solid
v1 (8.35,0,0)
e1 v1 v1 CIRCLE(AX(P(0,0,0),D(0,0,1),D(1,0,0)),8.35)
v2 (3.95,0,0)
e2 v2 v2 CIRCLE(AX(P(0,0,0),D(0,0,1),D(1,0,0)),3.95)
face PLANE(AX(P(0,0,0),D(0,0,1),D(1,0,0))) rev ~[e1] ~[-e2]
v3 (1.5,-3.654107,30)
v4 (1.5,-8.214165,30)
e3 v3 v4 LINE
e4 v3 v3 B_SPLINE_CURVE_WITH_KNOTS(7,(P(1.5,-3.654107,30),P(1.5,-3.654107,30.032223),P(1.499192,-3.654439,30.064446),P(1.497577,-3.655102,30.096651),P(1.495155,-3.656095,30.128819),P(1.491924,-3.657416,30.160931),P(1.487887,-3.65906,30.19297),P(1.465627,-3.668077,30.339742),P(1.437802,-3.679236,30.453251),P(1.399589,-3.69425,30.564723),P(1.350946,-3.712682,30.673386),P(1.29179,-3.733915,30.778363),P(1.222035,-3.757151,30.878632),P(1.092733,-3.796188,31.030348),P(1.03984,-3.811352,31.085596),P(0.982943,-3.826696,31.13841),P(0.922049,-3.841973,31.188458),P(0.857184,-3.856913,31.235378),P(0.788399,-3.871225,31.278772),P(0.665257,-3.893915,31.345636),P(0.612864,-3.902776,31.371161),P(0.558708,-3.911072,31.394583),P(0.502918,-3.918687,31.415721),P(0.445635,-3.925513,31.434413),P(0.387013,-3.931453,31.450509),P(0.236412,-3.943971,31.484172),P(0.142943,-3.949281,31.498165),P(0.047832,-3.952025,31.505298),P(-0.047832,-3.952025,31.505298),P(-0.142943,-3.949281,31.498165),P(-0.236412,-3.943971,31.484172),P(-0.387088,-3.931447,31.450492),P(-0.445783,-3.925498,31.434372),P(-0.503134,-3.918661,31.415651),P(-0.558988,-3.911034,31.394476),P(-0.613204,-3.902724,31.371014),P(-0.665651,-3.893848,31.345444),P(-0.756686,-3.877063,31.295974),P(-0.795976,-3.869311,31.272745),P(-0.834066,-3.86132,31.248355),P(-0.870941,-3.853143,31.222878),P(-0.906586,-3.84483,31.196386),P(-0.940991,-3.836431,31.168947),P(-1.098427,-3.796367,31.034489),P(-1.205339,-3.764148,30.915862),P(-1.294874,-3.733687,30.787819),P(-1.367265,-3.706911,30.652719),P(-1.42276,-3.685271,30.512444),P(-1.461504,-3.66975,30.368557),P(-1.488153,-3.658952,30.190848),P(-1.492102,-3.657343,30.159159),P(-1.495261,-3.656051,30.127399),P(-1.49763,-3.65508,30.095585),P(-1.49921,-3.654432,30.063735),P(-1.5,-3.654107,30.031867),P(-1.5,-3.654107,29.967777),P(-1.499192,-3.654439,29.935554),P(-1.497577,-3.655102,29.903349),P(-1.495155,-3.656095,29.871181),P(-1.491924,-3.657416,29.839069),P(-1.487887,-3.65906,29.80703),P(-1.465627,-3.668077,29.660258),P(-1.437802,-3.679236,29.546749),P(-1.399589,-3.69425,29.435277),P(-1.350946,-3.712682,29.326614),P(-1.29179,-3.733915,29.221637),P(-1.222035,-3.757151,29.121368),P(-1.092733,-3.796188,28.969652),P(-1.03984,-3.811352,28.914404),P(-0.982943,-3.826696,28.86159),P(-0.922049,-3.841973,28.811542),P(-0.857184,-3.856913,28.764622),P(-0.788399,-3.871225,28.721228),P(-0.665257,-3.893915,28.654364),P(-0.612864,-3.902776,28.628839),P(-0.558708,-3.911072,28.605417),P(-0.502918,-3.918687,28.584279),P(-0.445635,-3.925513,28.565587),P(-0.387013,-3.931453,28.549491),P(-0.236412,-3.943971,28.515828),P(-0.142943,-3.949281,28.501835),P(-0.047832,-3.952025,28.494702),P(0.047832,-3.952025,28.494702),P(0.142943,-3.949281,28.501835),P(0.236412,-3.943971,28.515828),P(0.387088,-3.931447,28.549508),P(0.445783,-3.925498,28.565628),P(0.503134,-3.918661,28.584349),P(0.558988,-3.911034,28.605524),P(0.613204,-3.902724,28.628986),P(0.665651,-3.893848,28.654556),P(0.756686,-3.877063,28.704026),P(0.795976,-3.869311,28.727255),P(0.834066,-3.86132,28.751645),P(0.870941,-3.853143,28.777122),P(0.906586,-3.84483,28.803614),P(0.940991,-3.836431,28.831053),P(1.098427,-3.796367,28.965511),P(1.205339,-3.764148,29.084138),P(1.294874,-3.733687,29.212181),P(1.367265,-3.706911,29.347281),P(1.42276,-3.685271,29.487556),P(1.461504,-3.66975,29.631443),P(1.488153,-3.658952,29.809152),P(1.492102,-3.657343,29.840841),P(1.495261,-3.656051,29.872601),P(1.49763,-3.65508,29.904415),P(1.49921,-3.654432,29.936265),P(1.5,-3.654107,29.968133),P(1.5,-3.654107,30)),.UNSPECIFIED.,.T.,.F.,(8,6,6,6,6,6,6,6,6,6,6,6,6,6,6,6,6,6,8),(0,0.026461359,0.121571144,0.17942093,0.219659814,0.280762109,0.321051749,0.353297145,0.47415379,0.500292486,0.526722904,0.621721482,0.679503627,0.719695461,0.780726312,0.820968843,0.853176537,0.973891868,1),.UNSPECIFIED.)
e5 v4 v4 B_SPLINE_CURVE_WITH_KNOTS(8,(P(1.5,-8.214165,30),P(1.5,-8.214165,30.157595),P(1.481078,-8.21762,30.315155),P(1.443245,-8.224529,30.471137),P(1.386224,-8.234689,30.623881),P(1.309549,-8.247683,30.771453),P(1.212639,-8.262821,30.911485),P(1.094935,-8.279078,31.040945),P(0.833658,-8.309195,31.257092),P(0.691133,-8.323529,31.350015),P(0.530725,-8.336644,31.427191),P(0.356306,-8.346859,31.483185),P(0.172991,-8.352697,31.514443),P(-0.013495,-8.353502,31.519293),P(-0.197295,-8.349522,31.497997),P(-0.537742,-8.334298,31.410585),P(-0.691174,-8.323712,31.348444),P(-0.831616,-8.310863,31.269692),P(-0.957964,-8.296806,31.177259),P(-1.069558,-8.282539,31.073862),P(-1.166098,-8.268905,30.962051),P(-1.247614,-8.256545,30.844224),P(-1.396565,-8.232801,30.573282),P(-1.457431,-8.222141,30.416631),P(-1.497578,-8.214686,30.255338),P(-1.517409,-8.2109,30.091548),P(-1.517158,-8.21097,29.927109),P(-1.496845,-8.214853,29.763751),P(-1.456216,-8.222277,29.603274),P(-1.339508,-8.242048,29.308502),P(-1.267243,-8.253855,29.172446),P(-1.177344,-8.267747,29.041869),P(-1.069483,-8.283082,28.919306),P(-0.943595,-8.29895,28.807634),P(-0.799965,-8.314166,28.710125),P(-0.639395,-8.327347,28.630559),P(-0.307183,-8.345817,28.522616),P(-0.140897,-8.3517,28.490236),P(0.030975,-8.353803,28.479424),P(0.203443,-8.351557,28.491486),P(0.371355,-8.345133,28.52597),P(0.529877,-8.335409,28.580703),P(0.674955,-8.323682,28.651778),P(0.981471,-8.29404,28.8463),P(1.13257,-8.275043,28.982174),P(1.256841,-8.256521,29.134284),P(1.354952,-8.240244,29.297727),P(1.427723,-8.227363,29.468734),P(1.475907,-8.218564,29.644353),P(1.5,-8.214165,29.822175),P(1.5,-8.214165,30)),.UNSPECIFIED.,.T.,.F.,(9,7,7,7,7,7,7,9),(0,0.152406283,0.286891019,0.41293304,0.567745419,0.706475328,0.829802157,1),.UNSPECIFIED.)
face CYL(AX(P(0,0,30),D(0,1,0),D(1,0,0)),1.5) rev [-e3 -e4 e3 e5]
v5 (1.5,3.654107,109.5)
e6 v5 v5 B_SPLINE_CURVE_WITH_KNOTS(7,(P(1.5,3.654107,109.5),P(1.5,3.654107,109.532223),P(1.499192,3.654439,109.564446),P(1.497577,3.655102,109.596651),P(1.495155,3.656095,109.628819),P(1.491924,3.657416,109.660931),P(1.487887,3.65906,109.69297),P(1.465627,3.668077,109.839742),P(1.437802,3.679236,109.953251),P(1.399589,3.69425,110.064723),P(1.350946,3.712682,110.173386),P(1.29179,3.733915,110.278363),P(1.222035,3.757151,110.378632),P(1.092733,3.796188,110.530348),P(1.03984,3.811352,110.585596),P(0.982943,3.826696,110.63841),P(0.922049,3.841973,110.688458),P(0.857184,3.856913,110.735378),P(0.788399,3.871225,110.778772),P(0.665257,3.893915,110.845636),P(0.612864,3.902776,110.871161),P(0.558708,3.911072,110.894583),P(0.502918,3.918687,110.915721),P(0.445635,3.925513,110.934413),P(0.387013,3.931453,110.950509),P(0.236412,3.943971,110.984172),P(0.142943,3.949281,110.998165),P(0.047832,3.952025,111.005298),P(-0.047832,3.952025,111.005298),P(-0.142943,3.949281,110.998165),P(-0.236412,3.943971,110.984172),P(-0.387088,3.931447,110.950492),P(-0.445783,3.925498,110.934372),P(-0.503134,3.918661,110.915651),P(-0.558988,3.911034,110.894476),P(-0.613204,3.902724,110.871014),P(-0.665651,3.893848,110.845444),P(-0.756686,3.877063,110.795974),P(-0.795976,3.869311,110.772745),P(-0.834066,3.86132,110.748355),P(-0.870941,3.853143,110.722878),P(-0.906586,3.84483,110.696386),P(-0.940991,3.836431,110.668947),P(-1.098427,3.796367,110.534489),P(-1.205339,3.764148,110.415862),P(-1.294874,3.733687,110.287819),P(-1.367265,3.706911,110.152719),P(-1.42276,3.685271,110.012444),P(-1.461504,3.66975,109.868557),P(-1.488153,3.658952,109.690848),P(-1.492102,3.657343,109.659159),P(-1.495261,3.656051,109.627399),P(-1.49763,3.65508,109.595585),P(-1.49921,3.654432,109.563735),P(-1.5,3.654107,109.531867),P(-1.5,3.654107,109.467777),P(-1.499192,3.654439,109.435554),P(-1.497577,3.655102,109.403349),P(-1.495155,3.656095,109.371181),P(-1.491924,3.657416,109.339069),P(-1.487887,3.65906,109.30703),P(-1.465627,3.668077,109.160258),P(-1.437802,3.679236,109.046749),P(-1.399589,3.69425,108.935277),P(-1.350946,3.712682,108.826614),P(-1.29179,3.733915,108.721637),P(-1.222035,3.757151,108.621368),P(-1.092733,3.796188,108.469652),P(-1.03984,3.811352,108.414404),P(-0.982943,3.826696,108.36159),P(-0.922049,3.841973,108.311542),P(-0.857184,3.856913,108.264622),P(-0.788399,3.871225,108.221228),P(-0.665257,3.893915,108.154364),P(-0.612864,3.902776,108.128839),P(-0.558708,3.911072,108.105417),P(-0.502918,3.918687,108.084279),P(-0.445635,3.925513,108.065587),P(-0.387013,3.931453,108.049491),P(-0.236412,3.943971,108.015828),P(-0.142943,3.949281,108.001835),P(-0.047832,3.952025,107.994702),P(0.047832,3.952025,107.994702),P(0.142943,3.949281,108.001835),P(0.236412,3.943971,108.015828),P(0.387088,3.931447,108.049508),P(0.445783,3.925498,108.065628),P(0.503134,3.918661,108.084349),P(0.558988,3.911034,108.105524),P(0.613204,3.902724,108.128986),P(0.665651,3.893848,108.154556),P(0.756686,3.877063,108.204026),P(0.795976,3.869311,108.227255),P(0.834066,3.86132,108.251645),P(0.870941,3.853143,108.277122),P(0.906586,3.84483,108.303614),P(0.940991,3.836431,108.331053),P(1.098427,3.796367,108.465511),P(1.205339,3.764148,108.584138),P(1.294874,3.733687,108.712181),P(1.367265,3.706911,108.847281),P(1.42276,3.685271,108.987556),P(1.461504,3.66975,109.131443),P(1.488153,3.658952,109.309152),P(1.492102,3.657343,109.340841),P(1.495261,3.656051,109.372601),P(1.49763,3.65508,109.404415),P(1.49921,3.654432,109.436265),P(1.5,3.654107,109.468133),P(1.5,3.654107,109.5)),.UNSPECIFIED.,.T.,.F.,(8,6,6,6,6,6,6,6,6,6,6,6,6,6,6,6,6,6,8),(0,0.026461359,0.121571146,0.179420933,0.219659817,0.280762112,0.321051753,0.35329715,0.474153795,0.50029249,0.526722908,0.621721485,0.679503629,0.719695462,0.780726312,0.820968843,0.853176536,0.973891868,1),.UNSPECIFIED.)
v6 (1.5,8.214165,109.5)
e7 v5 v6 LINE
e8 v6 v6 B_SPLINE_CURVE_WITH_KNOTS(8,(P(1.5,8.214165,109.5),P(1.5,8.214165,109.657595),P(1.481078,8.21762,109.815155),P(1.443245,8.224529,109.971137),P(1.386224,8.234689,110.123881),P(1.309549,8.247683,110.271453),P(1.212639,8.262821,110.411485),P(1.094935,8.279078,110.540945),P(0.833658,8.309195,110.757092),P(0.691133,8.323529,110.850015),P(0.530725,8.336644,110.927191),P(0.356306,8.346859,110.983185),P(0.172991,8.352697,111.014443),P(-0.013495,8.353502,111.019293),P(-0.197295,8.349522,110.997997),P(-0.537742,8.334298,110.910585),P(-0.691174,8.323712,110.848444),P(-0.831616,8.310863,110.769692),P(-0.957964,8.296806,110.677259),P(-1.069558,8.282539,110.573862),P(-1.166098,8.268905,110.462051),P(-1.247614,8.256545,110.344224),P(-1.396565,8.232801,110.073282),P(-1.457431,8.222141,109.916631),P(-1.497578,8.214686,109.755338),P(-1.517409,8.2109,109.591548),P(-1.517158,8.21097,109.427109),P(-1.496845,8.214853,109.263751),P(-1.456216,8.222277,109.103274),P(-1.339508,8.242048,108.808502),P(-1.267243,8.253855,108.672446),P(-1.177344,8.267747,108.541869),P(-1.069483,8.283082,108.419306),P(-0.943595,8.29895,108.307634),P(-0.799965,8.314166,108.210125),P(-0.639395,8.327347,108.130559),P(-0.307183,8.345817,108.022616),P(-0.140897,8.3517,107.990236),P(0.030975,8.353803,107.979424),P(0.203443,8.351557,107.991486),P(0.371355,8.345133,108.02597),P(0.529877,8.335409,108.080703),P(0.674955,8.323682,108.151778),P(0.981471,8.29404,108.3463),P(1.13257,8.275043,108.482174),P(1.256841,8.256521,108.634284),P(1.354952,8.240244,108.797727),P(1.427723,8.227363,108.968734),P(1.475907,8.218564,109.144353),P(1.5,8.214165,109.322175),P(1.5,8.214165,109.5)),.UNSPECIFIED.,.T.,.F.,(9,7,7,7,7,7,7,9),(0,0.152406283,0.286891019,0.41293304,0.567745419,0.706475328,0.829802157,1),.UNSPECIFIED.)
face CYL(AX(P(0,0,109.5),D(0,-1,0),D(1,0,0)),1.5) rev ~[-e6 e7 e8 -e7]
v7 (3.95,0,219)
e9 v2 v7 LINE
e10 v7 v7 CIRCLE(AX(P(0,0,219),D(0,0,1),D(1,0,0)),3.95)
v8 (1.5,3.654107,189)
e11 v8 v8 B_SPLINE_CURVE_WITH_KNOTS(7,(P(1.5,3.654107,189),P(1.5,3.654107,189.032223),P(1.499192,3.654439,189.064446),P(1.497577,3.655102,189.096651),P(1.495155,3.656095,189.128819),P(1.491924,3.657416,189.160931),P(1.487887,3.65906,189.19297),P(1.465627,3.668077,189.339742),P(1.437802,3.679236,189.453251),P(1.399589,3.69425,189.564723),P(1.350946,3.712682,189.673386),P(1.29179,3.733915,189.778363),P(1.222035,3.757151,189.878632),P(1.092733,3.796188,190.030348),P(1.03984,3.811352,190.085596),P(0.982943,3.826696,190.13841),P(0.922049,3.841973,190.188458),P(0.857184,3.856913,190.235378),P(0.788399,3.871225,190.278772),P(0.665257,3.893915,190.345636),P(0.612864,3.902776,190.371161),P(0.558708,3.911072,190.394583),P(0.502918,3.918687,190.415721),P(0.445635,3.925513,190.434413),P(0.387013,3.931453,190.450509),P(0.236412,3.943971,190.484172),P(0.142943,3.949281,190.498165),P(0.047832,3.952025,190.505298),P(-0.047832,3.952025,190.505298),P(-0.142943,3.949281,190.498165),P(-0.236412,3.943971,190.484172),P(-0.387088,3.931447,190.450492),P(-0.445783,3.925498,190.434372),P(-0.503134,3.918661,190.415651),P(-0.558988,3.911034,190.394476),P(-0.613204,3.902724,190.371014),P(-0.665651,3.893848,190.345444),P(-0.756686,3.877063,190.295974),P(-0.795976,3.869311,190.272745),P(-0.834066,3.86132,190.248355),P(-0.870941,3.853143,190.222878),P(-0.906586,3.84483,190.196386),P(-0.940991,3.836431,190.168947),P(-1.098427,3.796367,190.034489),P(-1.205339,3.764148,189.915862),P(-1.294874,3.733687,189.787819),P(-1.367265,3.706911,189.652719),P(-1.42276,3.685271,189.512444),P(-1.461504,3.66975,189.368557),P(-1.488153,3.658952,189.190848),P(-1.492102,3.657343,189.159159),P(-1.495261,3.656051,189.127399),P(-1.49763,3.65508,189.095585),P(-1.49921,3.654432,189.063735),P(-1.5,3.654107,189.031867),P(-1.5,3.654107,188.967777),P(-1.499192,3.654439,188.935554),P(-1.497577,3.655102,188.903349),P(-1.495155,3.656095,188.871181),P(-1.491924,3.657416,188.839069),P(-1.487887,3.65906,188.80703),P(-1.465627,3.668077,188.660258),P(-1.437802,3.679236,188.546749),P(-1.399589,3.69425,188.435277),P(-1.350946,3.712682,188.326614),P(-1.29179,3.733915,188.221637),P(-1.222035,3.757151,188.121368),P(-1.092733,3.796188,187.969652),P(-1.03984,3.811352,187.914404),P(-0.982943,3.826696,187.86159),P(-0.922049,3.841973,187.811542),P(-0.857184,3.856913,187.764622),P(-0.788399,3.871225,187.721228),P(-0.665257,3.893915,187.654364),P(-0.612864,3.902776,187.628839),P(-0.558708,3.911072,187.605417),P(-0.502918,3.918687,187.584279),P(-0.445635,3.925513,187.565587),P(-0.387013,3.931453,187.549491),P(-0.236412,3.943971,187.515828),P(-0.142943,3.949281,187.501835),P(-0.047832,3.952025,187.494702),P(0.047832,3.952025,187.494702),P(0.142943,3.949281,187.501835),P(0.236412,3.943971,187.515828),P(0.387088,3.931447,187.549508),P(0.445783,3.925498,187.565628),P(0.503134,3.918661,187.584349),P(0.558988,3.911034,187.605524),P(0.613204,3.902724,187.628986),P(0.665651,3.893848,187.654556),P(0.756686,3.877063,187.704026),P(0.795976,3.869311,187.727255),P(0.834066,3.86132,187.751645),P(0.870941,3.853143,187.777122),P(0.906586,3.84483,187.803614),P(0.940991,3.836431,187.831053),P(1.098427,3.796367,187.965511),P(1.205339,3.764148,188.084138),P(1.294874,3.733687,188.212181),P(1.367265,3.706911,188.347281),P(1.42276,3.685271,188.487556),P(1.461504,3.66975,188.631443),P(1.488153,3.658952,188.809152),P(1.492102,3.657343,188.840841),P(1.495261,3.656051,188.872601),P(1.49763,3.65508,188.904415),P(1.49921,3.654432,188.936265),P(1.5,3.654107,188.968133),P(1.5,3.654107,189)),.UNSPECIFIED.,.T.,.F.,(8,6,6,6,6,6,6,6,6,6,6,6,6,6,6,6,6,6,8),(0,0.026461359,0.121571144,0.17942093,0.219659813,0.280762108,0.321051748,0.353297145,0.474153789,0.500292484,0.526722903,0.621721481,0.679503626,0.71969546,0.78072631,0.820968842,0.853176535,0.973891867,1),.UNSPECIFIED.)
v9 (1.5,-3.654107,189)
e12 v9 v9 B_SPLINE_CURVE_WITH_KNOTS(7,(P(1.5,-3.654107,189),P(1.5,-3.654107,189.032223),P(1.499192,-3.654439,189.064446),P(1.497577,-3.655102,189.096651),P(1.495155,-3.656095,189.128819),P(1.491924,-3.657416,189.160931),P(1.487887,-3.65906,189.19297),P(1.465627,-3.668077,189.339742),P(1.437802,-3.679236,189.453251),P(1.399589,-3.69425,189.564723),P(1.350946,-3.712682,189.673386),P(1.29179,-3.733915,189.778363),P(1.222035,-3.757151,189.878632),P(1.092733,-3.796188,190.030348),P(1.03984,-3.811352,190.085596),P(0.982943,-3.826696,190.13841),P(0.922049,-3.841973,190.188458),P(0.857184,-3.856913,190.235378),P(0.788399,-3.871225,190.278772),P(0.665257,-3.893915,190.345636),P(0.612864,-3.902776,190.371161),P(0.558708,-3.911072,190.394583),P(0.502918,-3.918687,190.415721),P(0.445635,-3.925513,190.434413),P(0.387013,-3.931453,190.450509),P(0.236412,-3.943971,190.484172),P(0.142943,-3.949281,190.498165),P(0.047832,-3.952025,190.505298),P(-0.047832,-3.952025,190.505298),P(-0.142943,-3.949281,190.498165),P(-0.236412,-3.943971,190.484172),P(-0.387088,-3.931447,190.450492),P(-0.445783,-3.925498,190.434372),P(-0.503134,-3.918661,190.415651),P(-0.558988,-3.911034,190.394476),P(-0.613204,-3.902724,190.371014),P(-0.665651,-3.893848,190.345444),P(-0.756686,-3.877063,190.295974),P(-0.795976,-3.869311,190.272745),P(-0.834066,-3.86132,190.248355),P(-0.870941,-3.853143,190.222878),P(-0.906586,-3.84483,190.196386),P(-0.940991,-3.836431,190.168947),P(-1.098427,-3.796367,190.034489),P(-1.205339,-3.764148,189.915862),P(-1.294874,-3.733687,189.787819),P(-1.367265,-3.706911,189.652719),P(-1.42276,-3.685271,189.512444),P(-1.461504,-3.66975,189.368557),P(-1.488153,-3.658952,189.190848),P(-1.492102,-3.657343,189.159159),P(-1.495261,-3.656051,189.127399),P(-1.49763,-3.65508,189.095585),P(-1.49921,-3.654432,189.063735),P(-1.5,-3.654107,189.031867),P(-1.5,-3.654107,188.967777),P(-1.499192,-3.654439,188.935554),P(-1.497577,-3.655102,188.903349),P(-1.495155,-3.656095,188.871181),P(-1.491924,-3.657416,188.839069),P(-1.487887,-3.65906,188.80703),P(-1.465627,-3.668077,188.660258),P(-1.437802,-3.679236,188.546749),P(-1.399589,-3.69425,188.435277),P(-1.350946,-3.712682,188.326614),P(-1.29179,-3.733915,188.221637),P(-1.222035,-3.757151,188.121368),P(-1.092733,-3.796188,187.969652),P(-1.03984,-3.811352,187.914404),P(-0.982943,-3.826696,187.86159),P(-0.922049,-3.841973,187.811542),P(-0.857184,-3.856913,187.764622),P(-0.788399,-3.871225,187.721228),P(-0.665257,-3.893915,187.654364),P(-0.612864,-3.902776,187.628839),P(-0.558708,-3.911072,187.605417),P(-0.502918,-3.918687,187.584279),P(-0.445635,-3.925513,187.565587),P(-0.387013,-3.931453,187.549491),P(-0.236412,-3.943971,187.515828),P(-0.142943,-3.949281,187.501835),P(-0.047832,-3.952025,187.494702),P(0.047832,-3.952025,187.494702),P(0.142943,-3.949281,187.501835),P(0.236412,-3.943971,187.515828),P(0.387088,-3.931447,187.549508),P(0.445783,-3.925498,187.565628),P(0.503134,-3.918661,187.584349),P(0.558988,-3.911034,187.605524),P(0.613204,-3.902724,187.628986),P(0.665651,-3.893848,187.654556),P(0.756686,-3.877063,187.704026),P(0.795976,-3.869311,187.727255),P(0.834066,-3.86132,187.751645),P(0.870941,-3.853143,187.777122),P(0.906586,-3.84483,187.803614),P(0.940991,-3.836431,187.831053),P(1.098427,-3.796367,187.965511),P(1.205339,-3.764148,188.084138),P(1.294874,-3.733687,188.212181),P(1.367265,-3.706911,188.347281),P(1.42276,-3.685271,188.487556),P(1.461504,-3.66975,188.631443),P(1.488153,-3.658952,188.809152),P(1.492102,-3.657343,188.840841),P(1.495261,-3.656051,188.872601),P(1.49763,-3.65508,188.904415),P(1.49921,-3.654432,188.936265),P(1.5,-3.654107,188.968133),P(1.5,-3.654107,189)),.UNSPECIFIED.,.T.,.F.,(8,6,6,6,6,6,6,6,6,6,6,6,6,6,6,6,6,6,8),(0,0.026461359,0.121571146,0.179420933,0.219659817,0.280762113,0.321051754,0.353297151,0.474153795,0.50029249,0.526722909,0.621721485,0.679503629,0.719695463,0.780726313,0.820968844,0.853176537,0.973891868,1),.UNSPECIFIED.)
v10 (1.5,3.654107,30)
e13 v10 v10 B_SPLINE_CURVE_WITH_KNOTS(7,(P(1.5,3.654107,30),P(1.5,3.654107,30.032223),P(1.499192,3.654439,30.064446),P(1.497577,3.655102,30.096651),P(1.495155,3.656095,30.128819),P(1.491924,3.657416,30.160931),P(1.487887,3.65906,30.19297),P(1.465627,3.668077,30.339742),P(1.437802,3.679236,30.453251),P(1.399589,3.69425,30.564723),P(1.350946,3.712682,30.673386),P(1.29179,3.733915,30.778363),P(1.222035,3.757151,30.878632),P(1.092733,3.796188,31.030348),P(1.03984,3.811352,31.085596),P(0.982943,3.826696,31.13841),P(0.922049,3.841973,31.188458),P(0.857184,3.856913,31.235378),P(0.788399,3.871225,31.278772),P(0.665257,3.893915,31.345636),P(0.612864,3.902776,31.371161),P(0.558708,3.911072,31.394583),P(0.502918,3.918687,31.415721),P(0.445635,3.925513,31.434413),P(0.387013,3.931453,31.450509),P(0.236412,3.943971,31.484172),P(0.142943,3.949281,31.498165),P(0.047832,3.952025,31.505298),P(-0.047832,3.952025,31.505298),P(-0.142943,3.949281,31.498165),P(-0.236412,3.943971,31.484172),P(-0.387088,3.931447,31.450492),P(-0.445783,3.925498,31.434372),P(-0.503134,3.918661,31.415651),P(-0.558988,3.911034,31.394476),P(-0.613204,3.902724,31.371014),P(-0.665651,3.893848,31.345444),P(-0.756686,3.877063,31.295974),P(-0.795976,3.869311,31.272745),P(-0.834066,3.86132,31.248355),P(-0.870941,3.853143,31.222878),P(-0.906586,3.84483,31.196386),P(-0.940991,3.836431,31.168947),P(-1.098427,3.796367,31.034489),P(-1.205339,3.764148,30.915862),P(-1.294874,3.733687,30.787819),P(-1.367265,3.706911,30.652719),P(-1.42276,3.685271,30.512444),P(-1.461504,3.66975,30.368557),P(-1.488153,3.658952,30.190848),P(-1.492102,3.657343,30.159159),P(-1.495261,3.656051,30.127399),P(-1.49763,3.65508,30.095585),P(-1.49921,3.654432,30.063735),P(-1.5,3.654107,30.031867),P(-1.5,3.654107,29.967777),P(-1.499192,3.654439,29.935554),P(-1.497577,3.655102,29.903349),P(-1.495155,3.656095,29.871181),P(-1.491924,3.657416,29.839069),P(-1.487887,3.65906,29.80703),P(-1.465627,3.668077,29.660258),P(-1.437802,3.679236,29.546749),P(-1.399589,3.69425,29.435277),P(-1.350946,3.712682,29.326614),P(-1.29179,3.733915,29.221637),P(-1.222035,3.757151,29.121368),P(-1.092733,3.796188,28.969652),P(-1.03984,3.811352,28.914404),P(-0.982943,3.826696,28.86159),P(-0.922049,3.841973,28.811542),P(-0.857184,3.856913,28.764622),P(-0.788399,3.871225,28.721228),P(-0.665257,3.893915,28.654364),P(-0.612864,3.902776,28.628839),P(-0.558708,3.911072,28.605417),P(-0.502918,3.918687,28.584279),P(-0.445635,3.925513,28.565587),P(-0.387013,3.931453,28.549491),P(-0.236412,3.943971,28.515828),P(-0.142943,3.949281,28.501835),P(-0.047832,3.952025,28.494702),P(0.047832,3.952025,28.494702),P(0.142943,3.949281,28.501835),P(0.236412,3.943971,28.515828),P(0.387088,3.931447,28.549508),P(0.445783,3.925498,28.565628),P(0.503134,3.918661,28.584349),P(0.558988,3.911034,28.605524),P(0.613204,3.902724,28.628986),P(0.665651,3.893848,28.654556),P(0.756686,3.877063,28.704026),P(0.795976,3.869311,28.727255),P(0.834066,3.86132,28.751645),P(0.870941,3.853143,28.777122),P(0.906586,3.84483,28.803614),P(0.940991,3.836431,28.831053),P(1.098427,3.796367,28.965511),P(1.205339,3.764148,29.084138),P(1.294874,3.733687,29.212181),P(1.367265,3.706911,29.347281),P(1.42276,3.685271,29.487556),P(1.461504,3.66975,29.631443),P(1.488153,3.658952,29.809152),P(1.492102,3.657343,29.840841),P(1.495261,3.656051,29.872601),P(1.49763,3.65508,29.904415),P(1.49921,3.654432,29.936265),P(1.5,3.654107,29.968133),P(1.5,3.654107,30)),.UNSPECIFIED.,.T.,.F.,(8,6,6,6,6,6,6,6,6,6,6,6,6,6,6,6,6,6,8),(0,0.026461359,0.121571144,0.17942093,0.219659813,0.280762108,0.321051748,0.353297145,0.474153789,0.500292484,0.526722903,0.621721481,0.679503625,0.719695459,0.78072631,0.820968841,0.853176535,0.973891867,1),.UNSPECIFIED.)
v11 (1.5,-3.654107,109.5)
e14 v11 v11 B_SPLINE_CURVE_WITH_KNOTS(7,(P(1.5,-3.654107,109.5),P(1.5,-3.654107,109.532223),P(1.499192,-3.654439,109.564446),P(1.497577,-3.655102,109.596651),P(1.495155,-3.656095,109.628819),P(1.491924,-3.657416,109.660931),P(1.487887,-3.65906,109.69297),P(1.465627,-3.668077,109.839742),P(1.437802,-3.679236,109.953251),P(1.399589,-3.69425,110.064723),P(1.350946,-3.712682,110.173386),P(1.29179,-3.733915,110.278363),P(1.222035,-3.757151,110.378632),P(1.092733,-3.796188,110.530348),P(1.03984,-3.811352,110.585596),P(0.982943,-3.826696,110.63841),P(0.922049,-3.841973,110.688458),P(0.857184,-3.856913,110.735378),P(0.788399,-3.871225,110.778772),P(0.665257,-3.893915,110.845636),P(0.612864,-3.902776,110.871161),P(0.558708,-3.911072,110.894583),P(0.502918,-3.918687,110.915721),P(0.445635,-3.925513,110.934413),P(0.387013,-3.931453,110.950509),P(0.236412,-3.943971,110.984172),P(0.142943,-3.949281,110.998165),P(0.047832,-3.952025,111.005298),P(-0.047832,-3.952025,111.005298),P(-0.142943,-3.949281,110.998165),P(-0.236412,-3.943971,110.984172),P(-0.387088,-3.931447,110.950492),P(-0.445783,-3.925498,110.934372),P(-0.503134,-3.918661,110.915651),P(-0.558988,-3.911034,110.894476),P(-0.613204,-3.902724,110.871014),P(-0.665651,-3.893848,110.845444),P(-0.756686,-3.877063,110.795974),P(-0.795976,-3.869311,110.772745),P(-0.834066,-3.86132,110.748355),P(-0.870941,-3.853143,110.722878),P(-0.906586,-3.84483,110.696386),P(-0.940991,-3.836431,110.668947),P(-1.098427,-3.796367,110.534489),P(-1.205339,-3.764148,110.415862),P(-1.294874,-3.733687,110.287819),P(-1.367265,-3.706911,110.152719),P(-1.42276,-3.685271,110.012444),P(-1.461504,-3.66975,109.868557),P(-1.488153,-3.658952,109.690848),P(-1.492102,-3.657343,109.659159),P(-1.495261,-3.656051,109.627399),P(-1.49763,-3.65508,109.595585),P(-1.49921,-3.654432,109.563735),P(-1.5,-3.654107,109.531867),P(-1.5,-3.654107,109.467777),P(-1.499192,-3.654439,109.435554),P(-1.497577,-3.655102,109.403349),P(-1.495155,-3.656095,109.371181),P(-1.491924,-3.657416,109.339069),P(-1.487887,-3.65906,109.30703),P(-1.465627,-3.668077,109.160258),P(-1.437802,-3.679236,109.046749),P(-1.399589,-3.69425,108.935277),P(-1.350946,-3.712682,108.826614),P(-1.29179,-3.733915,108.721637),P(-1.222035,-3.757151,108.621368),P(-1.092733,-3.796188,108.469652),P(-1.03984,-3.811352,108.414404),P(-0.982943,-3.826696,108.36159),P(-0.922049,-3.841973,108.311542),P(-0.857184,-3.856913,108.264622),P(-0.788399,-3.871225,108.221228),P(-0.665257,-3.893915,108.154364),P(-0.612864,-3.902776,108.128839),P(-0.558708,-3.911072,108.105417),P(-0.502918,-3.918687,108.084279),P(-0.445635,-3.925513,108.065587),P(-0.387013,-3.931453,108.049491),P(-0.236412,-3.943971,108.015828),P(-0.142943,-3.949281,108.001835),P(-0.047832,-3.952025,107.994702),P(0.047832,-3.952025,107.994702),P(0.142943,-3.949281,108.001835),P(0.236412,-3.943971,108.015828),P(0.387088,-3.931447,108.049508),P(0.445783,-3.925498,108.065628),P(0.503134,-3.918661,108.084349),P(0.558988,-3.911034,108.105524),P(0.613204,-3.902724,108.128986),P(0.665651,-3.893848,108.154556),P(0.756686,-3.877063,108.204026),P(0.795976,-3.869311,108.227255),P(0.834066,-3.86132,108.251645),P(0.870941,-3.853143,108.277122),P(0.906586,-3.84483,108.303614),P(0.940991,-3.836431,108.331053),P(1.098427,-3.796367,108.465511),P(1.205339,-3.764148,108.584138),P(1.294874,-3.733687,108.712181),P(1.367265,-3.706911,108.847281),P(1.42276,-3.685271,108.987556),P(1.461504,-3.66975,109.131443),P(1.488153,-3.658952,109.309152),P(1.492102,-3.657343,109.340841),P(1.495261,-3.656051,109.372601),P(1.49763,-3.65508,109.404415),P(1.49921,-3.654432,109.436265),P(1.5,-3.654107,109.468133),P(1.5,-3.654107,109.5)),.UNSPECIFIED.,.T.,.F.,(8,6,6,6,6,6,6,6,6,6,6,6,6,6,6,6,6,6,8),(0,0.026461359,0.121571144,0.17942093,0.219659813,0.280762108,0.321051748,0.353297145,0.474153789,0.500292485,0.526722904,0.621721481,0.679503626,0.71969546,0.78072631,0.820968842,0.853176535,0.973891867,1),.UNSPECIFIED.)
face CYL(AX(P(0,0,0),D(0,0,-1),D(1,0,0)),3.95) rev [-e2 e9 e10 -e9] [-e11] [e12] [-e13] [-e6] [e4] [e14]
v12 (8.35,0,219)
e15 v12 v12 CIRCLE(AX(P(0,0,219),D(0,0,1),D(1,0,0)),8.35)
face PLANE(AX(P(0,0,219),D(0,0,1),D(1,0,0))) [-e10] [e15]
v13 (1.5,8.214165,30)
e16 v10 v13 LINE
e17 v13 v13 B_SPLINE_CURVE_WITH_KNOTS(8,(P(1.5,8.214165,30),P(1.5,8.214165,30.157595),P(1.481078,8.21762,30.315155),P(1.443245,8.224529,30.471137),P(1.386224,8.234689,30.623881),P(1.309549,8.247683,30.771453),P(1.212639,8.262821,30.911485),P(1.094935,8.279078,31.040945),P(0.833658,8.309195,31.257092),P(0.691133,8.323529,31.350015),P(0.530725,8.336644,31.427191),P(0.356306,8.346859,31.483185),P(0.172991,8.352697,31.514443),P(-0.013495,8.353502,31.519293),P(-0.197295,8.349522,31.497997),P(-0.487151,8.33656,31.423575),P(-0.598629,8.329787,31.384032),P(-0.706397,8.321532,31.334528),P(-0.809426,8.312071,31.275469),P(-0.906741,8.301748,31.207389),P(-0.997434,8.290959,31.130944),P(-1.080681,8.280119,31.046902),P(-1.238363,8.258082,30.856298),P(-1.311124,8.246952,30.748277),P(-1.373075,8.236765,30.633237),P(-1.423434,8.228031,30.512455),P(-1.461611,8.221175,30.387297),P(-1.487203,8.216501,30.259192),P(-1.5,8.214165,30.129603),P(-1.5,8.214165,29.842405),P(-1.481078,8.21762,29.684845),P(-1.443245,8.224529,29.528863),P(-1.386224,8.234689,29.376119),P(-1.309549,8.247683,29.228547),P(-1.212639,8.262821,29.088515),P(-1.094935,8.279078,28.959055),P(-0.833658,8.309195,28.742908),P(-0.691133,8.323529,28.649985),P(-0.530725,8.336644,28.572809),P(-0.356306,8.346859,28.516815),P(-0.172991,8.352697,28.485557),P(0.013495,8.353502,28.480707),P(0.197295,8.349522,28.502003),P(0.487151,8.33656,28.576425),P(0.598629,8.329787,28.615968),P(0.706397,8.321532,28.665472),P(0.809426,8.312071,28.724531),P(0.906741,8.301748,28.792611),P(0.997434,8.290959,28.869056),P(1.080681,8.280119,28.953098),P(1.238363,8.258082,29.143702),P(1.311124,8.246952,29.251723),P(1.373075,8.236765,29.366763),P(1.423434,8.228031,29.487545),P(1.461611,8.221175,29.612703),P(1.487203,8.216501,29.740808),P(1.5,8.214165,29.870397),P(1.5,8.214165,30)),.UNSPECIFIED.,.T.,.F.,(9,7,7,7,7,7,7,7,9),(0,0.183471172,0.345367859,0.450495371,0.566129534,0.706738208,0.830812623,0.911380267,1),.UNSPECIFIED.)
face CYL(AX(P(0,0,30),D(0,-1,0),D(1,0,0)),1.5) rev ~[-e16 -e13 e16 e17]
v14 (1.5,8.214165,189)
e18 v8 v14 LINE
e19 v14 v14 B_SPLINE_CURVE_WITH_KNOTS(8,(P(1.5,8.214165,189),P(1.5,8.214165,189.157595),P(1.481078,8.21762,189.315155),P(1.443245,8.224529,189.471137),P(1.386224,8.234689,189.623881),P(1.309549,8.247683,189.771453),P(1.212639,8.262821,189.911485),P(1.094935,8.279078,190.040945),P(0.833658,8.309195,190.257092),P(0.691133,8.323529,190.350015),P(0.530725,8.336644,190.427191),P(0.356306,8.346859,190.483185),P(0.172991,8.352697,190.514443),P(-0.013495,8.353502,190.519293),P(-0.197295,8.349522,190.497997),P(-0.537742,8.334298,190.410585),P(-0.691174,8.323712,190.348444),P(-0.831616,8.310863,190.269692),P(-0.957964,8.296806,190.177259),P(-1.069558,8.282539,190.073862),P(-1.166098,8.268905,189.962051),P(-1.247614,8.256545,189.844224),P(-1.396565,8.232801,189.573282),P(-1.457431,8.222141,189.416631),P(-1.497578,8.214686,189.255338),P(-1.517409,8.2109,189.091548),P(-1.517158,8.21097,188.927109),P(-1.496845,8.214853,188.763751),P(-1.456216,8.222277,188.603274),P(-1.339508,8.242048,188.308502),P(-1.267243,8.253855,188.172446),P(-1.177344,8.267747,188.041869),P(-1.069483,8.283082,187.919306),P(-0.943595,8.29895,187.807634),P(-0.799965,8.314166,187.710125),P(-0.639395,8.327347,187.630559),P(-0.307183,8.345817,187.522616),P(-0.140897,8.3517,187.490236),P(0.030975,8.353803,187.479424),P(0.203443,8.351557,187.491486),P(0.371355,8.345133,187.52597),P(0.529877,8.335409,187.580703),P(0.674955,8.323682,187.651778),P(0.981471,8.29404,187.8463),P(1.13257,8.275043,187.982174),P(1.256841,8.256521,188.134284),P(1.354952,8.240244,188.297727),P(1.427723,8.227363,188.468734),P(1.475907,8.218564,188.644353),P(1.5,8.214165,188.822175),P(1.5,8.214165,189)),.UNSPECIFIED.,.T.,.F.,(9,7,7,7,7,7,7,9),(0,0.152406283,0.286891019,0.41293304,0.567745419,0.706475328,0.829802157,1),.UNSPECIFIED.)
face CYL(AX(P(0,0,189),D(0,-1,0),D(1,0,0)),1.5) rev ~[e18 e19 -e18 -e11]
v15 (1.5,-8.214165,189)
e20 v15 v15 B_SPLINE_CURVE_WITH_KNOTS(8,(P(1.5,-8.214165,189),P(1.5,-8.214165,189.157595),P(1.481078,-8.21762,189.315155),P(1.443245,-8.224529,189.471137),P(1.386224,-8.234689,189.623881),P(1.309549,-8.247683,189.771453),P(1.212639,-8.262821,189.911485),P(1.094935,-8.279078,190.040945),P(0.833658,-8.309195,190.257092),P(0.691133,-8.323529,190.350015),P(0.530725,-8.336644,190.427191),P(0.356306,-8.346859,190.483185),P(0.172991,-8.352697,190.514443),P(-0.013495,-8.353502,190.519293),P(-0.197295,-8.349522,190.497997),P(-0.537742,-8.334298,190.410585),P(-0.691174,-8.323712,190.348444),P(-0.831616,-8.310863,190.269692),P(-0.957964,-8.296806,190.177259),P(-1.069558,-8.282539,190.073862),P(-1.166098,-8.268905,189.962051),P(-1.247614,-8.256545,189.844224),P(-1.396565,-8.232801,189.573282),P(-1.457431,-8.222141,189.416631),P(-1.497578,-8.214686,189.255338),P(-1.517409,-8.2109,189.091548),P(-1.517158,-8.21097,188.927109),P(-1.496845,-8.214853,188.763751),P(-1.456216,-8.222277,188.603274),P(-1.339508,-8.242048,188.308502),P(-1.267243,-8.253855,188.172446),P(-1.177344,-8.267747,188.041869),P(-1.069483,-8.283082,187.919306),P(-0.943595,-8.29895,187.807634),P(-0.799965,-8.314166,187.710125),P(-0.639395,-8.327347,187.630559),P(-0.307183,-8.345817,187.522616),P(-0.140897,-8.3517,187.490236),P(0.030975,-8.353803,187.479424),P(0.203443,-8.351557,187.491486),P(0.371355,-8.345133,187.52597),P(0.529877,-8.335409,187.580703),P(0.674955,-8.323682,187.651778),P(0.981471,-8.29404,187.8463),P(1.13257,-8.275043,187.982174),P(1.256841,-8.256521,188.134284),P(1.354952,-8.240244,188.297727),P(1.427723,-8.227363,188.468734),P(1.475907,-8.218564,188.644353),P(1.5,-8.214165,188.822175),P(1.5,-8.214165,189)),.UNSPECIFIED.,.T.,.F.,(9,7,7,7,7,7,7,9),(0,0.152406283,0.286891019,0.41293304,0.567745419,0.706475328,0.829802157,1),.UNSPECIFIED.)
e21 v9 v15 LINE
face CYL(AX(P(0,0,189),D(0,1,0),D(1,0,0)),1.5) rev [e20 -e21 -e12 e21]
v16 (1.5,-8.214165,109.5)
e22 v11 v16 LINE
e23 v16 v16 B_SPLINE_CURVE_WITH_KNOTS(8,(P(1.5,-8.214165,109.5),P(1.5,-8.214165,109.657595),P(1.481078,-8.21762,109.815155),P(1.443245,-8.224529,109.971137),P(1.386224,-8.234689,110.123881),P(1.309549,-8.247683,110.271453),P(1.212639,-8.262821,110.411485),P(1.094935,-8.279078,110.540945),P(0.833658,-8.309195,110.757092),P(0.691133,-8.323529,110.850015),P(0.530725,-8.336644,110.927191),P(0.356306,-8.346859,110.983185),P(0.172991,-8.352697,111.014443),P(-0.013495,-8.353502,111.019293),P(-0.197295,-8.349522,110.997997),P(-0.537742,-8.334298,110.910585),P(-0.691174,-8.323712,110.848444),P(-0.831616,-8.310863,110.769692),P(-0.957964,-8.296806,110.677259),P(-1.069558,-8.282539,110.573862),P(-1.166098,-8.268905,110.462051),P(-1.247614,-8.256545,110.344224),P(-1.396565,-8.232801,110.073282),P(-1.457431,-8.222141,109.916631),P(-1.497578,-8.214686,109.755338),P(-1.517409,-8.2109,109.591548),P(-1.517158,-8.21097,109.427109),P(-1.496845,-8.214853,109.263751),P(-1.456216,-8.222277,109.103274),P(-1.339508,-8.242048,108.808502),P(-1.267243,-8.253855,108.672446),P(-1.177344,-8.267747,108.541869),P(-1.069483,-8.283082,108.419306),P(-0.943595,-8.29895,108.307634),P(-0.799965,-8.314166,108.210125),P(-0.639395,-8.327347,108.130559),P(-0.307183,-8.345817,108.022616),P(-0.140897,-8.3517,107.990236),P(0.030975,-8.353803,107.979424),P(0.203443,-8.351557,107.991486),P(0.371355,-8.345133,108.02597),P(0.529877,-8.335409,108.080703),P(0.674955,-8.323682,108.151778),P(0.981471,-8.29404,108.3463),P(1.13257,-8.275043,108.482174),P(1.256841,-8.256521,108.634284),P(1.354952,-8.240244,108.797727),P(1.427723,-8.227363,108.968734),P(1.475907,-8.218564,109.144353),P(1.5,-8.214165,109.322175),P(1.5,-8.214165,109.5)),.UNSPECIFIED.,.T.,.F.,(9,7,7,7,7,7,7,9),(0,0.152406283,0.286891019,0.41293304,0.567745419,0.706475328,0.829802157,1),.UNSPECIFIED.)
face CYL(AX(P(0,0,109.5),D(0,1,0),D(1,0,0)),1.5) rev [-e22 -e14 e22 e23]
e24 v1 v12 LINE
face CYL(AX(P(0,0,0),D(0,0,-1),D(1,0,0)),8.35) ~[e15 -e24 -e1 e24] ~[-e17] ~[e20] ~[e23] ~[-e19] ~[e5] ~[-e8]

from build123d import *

# Parameters (mm, degrees)
SKETCH_R          = 8.35
SKETCH_R_2        = 3.95
PAD_DEPTH         = 219
SKETCH001_R       = 1.5
POCKET_DEPTH      = 100
POCKET_DEPTH_BACK = -100


with BuildPart() as part:
    # Sketch → Pad (new body)
    with BuildSketch(Plane.XY):
        Circle(SKETCH_R)
        Circle(SKETCH_R_2, mode=Mode.SUBTRACT)
    extrude(amount=PAD_DEPTH)

    # Sketch001 → Pocket (cut, two sides)
    with BuildSketch(Plane.XZ) as pocket_sk:
        with Locations((0, 109.5)):
            Circle(SKETCH001_R)
        with Locations((0, 189)):
            Circle(SKETCH001_R)
        with Locations((0, 30)):
            Circle(SKETCH001_R)
    extrude(amount=-POCKET_DEPTH, mode=Mode.SUBTRACT)
    extrude(pocket_sk.sketch, amount=-POCKET_DEPTH_BACK, mode=Mode.SUBTRACT)


solid = part.part
